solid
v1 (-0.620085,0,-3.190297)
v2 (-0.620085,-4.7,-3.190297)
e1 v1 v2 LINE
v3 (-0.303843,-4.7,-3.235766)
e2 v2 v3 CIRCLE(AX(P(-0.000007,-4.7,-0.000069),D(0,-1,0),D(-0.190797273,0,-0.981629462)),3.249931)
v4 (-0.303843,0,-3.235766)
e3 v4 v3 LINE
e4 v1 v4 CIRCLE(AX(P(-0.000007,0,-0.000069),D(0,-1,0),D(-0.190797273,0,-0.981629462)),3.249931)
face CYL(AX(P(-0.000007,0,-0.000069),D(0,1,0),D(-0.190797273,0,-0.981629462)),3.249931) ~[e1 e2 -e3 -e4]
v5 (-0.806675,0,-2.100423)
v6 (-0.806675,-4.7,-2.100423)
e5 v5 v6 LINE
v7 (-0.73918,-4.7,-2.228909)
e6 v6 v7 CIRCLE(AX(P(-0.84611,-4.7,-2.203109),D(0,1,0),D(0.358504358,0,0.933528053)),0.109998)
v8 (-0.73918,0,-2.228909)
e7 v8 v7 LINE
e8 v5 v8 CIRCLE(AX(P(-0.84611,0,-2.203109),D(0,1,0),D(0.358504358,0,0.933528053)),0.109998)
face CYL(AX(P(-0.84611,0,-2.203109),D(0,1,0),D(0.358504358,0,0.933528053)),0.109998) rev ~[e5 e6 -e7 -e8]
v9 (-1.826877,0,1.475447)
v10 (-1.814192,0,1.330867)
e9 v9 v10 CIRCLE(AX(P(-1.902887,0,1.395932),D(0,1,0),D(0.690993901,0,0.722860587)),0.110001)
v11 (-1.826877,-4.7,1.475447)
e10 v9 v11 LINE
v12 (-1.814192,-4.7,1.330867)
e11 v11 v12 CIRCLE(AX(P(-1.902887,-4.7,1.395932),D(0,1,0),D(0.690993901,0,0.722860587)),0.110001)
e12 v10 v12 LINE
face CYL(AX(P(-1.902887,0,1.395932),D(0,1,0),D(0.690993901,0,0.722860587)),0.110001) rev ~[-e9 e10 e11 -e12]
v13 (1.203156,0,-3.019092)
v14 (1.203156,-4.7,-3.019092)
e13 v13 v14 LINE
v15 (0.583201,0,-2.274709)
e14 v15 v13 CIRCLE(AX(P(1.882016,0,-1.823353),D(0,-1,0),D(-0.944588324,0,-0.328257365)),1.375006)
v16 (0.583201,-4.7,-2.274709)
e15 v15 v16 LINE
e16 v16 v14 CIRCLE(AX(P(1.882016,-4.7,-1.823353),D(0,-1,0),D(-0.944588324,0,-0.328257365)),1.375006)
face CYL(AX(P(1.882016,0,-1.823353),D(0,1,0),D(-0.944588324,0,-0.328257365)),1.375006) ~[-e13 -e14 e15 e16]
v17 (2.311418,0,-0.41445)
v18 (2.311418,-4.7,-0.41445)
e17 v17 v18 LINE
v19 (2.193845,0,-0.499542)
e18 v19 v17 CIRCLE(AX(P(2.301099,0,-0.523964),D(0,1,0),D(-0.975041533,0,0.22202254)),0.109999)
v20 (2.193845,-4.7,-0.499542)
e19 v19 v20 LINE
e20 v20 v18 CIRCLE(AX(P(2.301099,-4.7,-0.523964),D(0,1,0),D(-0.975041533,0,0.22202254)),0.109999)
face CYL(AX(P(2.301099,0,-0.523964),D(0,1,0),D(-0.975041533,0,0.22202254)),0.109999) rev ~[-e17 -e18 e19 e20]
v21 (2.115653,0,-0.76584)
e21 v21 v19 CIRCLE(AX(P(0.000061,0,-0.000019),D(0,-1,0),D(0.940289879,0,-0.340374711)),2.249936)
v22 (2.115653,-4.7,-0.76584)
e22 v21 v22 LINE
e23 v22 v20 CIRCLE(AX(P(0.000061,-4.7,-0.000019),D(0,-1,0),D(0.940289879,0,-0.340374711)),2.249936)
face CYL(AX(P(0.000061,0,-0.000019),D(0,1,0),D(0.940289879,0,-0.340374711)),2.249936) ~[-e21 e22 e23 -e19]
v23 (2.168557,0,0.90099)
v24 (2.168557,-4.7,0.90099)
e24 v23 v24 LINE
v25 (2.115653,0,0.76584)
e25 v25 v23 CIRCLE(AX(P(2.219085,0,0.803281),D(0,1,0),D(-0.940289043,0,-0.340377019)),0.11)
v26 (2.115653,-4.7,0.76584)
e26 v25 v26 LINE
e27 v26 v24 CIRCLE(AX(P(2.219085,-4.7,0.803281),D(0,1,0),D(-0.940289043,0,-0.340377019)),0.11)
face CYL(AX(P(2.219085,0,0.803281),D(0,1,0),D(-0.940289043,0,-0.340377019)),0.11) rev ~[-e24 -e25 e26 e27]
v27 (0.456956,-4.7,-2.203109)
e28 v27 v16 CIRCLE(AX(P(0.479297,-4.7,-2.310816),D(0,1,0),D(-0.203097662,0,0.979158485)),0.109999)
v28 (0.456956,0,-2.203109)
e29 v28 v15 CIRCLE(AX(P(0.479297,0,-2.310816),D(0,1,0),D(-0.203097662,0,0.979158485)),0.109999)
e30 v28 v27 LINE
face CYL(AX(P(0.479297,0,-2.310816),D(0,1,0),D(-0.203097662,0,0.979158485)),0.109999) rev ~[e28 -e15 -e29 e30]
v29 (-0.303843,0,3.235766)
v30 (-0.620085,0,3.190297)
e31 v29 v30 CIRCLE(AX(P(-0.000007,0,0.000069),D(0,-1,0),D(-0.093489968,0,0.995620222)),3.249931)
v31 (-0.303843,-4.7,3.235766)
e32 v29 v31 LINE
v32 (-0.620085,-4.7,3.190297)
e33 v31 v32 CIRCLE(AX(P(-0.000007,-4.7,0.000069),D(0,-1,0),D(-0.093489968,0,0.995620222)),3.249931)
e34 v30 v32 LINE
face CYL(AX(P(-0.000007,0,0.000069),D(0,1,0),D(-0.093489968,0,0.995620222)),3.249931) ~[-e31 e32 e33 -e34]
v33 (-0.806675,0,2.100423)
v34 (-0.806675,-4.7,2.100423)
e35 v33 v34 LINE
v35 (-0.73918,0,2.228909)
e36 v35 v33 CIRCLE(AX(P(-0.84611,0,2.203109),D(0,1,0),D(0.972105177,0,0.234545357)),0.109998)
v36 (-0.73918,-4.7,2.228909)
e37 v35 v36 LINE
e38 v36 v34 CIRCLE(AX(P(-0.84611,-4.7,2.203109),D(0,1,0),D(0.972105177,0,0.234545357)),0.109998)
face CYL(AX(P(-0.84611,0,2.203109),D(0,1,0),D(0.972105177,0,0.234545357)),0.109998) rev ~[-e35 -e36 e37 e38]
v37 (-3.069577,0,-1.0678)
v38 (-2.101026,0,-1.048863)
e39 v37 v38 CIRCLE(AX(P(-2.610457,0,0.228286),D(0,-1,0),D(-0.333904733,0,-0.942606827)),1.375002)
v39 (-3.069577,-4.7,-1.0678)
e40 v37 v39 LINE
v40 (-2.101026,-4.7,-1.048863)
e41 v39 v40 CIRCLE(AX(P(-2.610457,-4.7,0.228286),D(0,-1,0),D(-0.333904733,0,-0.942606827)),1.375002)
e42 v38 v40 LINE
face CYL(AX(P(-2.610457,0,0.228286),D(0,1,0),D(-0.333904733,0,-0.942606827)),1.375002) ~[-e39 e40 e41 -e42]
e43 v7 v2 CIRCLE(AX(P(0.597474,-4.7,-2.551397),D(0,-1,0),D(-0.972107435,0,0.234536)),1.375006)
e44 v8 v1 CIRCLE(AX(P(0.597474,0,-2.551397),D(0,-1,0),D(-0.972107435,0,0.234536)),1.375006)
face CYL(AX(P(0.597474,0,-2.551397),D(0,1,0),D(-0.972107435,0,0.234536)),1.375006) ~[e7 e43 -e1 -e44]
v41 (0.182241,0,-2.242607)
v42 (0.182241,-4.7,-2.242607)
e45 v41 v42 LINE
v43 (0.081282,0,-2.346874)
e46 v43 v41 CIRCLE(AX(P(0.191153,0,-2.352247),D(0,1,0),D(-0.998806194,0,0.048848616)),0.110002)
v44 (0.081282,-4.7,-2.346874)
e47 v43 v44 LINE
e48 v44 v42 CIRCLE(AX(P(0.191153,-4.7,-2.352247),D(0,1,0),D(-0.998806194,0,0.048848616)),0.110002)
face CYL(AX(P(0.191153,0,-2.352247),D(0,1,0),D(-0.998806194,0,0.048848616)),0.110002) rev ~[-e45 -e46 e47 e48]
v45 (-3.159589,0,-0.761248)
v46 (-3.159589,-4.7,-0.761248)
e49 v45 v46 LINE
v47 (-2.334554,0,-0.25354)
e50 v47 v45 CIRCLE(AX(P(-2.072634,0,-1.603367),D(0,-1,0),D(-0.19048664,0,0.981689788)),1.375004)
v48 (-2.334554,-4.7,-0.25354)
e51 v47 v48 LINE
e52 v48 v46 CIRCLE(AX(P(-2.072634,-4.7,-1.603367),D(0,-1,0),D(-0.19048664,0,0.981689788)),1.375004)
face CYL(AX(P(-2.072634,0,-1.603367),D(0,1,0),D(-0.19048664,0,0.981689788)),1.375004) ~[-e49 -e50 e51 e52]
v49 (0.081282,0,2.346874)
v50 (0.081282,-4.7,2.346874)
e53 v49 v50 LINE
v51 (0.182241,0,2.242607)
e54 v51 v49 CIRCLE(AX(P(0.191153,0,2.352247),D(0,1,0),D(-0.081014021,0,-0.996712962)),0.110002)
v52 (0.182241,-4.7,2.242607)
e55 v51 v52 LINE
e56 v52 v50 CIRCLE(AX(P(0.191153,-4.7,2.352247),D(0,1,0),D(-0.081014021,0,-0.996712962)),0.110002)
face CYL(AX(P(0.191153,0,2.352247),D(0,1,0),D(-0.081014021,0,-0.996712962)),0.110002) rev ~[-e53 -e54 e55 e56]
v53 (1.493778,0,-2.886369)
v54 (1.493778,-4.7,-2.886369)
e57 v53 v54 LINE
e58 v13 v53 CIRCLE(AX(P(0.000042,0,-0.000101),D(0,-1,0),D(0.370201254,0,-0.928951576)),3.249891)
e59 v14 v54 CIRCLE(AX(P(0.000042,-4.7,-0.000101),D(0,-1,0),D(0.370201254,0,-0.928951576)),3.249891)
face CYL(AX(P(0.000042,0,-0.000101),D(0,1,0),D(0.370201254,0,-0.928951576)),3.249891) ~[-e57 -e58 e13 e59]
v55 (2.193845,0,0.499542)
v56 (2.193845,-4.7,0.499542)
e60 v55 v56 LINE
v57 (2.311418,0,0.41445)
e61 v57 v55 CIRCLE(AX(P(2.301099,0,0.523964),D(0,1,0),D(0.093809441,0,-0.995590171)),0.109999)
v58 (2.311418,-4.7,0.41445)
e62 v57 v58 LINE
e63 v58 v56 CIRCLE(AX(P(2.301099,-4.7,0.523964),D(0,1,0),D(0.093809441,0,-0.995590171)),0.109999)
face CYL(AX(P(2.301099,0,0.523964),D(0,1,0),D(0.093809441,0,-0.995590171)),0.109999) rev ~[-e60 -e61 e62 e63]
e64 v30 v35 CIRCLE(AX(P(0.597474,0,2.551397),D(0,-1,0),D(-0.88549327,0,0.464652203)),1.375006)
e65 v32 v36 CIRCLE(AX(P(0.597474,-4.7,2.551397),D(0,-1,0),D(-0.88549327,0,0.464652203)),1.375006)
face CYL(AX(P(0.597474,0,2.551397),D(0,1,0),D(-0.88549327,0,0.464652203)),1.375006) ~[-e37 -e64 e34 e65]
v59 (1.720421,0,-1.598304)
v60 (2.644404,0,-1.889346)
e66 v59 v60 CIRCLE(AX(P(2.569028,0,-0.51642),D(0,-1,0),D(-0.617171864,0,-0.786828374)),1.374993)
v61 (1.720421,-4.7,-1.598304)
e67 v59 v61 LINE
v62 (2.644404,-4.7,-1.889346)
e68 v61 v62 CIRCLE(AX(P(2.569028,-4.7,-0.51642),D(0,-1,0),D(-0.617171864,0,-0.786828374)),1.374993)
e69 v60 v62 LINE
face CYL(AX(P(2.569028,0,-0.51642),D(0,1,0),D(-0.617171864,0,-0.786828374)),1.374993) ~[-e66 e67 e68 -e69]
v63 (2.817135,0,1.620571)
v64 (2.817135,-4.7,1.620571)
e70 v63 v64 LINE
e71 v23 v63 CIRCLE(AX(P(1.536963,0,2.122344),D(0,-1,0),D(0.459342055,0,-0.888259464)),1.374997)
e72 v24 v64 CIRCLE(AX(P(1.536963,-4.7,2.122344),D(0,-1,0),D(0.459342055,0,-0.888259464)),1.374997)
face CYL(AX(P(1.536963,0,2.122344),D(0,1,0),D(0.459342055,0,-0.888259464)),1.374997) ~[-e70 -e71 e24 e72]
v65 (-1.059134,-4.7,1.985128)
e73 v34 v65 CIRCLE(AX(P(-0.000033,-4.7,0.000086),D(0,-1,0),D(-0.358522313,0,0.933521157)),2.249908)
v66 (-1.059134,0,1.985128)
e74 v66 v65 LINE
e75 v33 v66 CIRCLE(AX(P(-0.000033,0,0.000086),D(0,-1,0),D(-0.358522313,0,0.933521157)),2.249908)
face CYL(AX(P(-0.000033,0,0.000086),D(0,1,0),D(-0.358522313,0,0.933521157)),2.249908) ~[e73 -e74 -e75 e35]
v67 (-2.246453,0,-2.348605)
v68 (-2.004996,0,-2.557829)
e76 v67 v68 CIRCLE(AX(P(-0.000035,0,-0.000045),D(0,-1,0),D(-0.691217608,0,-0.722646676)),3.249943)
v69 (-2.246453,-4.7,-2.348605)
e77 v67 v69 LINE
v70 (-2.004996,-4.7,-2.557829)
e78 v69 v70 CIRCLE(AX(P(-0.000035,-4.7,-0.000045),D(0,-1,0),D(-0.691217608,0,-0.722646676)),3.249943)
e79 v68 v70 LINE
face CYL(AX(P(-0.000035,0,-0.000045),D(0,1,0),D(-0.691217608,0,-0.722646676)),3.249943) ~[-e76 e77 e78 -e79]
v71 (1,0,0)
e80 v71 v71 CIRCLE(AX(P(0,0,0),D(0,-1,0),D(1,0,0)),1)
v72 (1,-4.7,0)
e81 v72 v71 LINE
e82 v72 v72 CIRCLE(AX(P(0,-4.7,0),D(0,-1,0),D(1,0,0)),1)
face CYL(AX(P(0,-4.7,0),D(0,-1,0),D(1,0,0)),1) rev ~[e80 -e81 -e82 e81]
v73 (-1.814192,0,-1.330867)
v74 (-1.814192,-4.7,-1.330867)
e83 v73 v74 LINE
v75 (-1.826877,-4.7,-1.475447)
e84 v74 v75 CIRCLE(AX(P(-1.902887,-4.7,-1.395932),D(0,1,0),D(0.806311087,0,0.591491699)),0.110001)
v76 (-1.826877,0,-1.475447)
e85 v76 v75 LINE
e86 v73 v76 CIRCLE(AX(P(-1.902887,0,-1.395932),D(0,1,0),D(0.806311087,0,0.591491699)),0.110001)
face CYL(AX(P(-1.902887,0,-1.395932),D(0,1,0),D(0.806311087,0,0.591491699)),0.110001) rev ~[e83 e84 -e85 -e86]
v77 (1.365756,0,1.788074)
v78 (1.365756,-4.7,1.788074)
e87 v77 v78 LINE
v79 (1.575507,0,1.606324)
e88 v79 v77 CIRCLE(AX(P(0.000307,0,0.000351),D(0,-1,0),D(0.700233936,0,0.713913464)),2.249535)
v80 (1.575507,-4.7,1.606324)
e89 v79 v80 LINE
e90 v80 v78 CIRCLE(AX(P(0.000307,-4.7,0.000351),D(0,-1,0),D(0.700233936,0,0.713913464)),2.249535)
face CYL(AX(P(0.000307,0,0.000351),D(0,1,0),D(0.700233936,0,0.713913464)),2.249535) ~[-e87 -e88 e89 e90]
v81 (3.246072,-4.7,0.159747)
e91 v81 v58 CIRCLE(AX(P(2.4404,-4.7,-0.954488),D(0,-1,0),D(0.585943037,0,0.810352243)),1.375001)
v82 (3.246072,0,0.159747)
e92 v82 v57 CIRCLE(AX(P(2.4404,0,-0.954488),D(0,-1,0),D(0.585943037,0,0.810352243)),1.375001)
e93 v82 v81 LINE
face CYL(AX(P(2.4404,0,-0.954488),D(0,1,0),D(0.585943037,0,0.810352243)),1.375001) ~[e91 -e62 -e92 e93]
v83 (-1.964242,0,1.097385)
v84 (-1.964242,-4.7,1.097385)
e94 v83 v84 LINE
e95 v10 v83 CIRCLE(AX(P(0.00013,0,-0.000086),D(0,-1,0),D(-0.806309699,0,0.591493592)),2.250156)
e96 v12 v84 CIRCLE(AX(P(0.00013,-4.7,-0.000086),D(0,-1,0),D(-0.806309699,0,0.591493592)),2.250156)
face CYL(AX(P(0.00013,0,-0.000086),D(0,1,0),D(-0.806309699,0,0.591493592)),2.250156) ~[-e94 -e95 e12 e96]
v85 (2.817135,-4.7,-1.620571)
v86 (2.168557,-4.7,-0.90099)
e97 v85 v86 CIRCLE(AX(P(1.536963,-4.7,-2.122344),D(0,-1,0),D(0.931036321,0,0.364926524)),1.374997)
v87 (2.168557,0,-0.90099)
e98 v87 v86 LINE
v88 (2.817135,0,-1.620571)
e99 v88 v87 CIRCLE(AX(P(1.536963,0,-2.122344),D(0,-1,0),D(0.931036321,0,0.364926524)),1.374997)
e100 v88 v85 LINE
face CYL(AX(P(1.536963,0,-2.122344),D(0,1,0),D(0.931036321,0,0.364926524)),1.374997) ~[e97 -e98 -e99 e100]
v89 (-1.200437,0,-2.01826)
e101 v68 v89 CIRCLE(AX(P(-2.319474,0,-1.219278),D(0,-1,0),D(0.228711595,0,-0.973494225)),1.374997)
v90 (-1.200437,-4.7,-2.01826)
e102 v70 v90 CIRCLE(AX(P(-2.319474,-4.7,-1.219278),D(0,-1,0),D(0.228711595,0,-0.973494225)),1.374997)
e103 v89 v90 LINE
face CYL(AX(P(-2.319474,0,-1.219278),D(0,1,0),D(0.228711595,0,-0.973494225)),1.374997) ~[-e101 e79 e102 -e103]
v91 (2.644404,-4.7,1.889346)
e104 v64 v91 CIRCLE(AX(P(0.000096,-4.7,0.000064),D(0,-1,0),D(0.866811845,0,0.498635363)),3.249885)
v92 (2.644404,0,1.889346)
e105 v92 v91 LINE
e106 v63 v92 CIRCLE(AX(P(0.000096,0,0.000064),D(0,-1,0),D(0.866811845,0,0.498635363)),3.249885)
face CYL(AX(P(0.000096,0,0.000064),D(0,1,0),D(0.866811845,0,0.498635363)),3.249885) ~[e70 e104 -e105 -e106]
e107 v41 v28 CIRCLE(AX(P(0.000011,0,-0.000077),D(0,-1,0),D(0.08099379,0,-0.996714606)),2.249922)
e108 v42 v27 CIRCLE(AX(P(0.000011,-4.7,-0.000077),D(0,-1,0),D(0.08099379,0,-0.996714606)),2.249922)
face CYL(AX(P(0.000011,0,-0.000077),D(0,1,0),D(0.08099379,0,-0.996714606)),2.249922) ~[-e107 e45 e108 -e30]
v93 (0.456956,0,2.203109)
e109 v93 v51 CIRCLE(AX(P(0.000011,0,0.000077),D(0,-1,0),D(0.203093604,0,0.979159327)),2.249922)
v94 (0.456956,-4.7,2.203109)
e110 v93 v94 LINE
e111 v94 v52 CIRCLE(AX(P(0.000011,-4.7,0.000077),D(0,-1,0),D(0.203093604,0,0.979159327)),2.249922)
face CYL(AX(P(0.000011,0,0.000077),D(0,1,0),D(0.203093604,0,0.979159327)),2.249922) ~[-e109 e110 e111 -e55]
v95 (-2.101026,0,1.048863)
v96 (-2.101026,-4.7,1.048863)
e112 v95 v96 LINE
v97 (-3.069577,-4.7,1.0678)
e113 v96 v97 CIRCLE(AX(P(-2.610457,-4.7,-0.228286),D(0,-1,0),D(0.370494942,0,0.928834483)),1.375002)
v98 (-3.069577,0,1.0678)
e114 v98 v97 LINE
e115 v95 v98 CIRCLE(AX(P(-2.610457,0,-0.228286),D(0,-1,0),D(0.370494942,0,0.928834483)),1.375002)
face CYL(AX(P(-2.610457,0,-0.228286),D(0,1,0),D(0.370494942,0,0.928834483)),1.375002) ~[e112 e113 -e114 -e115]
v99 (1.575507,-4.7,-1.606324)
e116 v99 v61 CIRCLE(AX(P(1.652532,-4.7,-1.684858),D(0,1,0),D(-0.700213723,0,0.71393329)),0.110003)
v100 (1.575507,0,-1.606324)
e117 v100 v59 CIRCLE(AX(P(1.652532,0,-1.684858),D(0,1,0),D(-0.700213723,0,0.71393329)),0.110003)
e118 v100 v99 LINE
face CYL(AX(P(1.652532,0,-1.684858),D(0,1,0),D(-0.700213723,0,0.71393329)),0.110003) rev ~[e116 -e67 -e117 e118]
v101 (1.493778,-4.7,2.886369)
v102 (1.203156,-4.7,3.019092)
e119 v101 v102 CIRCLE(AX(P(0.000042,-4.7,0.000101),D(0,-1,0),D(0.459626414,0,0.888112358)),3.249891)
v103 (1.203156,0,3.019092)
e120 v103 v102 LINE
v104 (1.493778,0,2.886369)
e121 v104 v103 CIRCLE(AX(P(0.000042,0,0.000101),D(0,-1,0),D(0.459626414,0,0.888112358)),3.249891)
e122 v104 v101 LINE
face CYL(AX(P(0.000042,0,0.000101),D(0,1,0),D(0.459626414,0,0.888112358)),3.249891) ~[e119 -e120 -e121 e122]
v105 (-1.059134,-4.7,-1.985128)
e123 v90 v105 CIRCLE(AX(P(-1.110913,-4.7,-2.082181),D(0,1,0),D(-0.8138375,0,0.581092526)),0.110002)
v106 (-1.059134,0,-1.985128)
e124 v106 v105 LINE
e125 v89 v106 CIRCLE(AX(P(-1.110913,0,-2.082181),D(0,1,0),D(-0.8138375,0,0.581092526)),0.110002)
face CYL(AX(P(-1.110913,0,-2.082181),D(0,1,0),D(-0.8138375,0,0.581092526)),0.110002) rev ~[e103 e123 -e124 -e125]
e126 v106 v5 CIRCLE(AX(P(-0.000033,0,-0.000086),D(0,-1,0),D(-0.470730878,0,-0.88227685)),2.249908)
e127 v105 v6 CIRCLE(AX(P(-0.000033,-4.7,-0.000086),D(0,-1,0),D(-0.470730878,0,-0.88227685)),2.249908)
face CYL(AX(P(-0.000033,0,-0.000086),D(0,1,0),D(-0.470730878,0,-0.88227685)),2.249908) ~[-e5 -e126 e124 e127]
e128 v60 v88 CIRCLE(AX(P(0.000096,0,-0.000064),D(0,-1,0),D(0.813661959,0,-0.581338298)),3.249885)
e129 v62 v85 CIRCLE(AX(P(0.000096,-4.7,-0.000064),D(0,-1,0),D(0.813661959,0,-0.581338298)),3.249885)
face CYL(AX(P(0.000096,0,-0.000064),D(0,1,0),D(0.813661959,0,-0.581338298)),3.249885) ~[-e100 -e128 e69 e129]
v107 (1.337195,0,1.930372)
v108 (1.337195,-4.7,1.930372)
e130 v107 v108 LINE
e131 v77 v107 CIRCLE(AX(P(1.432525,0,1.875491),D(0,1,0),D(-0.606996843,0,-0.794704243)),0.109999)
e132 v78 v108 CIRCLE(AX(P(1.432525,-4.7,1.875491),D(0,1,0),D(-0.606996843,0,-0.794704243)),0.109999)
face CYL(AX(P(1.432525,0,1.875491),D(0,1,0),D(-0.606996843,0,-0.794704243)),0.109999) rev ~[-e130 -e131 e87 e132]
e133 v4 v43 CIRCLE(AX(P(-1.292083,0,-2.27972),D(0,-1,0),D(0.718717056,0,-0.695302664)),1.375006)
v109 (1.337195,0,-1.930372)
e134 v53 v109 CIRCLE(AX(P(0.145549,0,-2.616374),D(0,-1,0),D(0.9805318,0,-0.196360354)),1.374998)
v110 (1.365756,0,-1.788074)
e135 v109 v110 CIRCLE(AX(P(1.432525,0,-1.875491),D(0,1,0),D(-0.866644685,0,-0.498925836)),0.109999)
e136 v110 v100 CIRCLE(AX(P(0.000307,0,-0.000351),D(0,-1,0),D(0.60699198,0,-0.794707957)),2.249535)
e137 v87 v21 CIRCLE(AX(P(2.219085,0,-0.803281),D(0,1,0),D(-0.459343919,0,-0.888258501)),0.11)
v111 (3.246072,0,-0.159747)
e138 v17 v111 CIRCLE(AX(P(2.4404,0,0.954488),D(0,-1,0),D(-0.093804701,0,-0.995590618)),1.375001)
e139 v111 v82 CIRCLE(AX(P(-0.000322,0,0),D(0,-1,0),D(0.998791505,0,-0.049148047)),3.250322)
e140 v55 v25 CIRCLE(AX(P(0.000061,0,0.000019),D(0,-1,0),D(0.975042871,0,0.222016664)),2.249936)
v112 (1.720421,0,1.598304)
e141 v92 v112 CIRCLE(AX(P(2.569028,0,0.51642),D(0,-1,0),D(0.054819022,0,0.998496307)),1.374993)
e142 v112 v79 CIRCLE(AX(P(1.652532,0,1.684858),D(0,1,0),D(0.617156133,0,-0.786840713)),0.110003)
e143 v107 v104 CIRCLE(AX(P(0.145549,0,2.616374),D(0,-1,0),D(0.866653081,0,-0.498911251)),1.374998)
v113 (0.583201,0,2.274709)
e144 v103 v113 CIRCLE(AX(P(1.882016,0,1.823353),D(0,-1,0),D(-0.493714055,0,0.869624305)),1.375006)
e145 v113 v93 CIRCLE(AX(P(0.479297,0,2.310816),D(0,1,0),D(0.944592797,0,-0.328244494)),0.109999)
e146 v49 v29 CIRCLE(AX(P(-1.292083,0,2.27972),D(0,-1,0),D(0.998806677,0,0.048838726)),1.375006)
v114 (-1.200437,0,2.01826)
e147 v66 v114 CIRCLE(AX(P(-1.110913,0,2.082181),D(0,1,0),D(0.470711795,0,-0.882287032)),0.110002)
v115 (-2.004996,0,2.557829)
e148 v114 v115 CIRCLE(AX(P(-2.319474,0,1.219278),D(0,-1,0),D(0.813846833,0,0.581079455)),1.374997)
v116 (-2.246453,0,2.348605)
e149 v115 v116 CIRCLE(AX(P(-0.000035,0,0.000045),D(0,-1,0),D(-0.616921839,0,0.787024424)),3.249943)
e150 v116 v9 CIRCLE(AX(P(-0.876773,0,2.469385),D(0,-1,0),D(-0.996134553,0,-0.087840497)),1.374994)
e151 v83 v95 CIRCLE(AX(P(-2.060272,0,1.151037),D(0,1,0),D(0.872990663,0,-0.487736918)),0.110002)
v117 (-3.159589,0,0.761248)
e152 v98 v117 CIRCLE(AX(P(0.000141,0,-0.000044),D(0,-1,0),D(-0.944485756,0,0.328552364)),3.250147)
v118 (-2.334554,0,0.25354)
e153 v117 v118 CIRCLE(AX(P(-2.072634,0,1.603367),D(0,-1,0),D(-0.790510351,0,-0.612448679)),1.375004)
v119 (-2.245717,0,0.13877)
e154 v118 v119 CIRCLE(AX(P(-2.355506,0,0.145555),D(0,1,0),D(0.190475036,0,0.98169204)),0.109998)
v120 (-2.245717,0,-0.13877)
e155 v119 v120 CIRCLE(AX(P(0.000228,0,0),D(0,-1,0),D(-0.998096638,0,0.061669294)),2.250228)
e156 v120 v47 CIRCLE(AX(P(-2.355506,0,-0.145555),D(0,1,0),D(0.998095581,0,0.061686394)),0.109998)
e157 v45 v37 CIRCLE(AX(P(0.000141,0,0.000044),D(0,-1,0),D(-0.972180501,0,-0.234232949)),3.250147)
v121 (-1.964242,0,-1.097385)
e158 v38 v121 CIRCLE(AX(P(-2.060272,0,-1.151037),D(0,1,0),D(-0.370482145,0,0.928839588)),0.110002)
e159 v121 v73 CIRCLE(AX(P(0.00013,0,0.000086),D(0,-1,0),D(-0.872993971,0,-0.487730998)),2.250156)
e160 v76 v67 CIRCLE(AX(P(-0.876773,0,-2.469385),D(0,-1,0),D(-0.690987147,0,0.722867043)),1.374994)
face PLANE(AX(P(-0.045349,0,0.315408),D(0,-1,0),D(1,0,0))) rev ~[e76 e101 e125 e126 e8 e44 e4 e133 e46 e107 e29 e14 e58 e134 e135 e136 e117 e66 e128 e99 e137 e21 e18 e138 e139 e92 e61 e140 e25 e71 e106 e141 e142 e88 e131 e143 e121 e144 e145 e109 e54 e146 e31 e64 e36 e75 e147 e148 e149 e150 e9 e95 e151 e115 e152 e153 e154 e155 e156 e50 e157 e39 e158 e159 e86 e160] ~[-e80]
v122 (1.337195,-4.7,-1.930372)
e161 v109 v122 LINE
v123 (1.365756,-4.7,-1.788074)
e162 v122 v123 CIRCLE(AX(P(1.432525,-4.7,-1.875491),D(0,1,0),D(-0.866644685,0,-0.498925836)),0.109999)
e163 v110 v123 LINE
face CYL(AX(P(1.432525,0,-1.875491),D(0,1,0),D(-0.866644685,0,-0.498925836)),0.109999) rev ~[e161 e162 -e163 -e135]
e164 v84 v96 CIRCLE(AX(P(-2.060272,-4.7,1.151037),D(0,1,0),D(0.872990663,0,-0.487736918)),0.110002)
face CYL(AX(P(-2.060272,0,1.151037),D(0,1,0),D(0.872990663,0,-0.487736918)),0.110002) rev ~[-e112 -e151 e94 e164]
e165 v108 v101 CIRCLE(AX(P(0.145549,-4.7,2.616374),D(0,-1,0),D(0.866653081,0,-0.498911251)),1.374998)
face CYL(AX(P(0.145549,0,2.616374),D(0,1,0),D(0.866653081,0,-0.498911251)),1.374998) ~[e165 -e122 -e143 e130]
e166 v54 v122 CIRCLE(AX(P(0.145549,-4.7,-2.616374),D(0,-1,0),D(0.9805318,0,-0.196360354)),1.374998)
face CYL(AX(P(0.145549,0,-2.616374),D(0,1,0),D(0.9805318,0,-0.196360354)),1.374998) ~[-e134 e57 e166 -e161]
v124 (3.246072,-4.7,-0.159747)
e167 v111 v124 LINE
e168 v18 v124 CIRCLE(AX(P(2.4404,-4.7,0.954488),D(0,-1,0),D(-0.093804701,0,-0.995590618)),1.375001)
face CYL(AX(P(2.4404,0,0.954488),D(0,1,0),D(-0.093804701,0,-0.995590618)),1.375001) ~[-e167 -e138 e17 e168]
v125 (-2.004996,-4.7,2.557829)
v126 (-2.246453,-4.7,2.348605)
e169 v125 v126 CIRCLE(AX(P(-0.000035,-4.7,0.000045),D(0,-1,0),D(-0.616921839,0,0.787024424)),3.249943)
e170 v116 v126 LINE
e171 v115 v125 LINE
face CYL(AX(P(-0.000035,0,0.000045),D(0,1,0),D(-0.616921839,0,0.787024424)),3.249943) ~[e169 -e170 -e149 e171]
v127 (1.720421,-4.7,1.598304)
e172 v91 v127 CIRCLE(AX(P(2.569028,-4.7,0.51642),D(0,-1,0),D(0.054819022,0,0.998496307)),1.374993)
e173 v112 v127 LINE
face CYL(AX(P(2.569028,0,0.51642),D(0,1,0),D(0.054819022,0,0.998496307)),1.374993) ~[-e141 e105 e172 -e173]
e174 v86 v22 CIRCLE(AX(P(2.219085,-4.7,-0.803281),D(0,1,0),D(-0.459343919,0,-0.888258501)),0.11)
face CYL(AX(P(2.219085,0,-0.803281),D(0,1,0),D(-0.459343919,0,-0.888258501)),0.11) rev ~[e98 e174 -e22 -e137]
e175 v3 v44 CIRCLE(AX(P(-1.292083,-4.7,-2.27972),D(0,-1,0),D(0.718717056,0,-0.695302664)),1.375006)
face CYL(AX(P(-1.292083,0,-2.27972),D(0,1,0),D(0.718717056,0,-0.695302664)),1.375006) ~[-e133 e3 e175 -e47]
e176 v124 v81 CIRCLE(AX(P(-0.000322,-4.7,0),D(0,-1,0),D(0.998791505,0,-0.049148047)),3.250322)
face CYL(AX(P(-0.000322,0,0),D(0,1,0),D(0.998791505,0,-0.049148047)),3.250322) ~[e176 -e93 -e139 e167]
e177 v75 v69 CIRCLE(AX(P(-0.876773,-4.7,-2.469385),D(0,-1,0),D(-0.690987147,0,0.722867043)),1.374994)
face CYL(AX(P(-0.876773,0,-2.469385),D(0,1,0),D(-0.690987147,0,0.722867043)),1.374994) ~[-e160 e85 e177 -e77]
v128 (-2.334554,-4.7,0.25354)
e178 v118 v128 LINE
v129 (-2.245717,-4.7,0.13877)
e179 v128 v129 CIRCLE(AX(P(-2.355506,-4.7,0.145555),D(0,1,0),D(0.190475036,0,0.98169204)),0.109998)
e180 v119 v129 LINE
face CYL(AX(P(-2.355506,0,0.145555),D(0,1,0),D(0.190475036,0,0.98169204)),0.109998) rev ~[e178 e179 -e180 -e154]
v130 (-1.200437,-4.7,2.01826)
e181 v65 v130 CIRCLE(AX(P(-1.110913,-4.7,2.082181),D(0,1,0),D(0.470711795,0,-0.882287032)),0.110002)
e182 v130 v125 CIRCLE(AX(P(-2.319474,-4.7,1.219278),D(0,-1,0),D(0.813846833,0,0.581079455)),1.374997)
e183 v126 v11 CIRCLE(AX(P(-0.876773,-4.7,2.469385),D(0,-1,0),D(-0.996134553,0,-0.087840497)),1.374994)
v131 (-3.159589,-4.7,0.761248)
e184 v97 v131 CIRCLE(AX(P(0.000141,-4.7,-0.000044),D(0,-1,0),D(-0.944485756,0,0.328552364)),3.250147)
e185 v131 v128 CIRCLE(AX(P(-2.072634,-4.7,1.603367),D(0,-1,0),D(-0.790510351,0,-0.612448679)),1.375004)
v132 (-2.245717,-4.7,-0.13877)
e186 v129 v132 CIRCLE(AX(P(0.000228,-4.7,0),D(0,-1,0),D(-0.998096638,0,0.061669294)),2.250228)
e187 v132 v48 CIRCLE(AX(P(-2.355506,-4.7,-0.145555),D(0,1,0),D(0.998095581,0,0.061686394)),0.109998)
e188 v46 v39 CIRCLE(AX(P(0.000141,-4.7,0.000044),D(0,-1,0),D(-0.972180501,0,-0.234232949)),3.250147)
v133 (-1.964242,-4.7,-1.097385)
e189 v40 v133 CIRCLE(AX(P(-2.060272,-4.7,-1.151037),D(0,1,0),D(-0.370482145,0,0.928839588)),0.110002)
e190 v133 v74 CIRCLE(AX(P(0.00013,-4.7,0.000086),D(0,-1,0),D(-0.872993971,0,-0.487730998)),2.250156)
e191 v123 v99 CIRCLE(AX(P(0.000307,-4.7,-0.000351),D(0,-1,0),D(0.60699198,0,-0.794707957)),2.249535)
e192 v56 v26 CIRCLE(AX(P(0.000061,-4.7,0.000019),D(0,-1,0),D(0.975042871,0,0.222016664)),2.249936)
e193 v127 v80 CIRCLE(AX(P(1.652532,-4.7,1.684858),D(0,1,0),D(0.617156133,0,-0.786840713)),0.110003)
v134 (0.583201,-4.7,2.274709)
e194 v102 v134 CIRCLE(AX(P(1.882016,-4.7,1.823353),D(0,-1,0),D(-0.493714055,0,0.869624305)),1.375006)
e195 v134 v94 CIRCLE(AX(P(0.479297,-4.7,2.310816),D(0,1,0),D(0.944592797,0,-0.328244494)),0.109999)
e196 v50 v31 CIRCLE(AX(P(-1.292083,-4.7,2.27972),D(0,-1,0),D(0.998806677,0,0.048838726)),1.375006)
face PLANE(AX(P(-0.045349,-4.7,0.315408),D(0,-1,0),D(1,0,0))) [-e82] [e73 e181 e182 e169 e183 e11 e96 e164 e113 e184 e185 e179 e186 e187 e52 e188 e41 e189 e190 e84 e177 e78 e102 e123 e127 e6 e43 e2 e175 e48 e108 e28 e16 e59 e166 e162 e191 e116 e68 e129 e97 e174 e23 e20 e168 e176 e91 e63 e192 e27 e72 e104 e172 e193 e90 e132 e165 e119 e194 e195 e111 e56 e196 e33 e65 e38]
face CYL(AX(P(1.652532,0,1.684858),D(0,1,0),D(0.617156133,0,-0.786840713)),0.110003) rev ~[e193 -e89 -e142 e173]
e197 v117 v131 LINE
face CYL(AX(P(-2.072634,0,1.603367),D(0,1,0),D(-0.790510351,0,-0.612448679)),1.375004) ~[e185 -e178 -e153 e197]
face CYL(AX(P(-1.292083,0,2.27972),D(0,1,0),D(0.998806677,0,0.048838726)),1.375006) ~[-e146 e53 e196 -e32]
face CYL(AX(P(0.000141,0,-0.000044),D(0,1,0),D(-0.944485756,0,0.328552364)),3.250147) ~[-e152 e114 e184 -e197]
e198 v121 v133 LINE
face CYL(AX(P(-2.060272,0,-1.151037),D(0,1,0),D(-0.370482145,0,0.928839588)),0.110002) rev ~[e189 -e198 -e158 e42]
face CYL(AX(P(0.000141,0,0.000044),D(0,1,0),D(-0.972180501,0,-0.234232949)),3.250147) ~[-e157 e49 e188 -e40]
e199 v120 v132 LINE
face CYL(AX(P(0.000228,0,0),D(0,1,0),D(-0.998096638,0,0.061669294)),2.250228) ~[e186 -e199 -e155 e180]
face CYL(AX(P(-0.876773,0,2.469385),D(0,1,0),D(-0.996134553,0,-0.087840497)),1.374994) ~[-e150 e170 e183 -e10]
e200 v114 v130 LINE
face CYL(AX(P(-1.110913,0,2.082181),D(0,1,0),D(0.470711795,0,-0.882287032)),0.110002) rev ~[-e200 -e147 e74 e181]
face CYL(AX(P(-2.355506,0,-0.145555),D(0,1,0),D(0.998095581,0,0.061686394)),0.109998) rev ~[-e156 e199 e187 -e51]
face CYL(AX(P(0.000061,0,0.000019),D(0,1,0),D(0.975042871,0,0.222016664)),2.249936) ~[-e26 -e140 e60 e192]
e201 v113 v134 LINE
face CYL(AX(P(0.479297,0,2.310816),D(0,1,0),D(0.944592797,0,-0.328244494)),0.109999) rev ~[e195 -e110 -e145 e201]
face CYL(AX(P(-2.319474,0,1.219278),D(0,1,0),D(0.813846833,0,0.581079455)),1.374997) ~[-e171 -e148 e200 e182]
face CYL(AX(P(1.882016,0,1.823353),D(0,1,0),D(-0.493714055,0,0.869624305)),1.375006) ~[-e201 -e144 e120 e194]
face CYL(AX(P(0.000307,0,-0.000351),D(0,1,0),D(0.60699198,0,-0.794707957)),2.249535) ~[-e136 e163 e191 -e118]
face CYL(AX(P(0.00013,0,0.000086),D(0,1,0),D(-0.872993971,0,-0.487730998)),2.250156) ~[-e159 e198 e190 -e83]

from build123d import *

# Parameters (mm, degrees)
F1_DEPTH = 4.7
F2_R     = 1
F3_DEPTH = 4.701


with BuildPart() as f1:
    # F0 (on Front) → F1 (new body)
    with BuildSketch(Plane.XZ):
        with BuildLine():
            ThreePointArc((0.081282, 2.346874), (-0.030407, 2.82636), (-0.303843, 3.235766))
            ThreePointArc((-0.303843, 3.235766), (-0.462523, 3.21692), (-0.620085, 3.190297))
            ThreePointArc((-0.620085, 3.190297), (-0.767102, 2.720439), (-0.73918, 2.228909))
            ThreePointArc((-0.73918, 2.228909), (-0.74873, 2.151955), (-0.806675, 2.100423))
            ThreePointArc((-0.806675, 2.100423), (-0.934684, 2.046672), (-1.059134, 1.985128))
            ThreePointArc((-1.059134, 1.985128), (-1.10292, 1.96114), (-1.146162, 1.936185))
            ThreePointArc((-1.146162, 1.936185), (-1.473437, 1.700437), (-1.753362, 1.410044))
            ThreePointArc((-1.753362, 1.410044), (-1.784216, 1.370793), (-1.814192, 1.330867))
            ThreePointArc((-1.814192, 1.330867), (-1.89282, 1.216442), (-1.964242, 1.097385))
            ThreePointArc((-1.964242, 1.097385), (-1.988107, 1.053532), (-2.010994, 1.00916))
            ThreePointArc((-2.010994, 1.00916), (-2.158859, 0.633898), (-2.237349, 0.238265))
            ThreePointArc((-2.237349, 0.238265), (-2.242085, 0.188564), (-2.245717, 0.13877))
            ThreePointArc((-2.245717, 0.13877), (-2.25, 0), (-2.245717, -0.13877))
            ThreePointArc((-2.245717, -0.13877), (-2.242085, -0.188564), (-2.237349, -0.238265))
            ThreePointArc((-2.237349, -0.238265), (-2.158859, -0.633898), (-2.010994, -1.00916))
            ThreePointArc((-2.010994, -1.00916), (-1.988107, -1.053532), (-1.964242, -1.097385))
            ThreePointArc((-1.964242, -1.097385), (-1.89282, -1.216442), (-1.814192, -1.330867))
            ThreePointArc((-1.814192, -1.330867), (-1.784216, -1.370793), (-1.753362, -1.410044))
            ThreePointArc((-1.753362, -1.410044), (-1.473437, -1.700437), (-1.146162, -1.936185))
            ThreePointArc((-1.146162, -1.936185), (-1.10292, -1.96114), (-1.059134, -1.985128))
            ThreePointArc((-1.059134, -1.985128), (-0.934684, -2.046672), (-0.806675, -2.100423))
            ThreePointArc((-0.806675, -2.100423), (-0.759872, -2.117804), (-0.712694, -2.134143))
            ThreePointArc((-0.712694, -2.134143), (-0.320208, -2.227098), (0.082568, -2.248485))
            ThreePointArc((0.082568, -2.248485), (0.132437, -2.246099), (0.182241, -2.242607))
            ThreePointArc((0.182241, -2.242607), (0.320208, -2.227098), (0.456956, -2.203109))
            ThreePointArc((0.456956, -2.203109), (0.505727, -2.192428), (0.554248, -2.180667))
            ThreePointArc((0.554248, -2.180667), (0.934684, -2.046672), (1.285083, -1.846906))
            ThreePointArc((1.285083, -1.846906), (1.325746, -1.817938), (1.365756, -1.788074))
            ThreePointArc((1.365756, -1.788074), (1.473437, -1.700437), (1.575507, -1.606324))
            ThreePointArc((1.575507, -1.606324), (1.610761, -1.570971), (1.645221, -1.534845))
            ThreePointArc((1.645221, -1.534845), (1.89282, -1.216442), (2.079593, -0.858948))
            ThreePointArc((2.079593, -0.858948), (2.09814, -0.812594), (2.115653, -0.76584))
            ThreePointArc((2.115653, -0.76584), (2.158859, -0.633898), (2.193845, -0.499542))
            ThreePointArc((2.193845, -0.499542), (2.204389, -0.450742), (2.213848, -0.40172))
            ThreePointArc((2.213848, -0.40172), (2.25, 0), (2.213848, 0.40172))
            ThreePointArc((2.213848, 0.40172), (2.204389, 0.450742), (2.193845, 0.499542))
            ThreePointArc((2.193845, 0.499542), (2.158859, 0.633898), (2.115653, 0.76584))
            ThreePointArc((2.115653, 0.76584), (2.09814, 0.812594), (2.079593, 0.858948))
            ThreePointArc((2.079593, 0.858948), (1.89282, 1.216442), (1.645221, 1.534845))
            ThreePointArc((1.645221, 1.534845), (1.610761, 1.570971), (1.575507, 1.606324))
            ThreePointArc((1.575507, 1.606324), (1.473437, 1.700437), (1.365756, 1.788074))
            ThreePointArc((1.365756, 1.788074), (1.325746, 1.817938), (1.285083, 1.846906))
            ThreePointArc((1.285083, 1.846906), (0.934684, 2.046672), (0.554248, 2.180667))
            ThreePointArc((0.554248, 2.180667), (0.505727, 2.192428), (0.456956, 2.203109))
            ThreePointArc((0.456956, 2.203109), (0.320208, 2.227098), (0.182241, 2.242607))
            ThreePointArc((0.182241, 2.242607), (0.112126, 2.275728), (0.081282, 2.346874))
        make_face()
        with BuildLine():
            ThreePointArc((0.583201, 2.274709), (0.533563, 2.215134), (0.456956, 2.203109))
            ThreePointArc((0.456956, 2.203109), (0.505727, 2.192428), (0.554248, 2.180667))
            ThreePointArc((0.554248, 2.180667), (0.567883, 2.227947), (0.583201, 2.274709))
        make_face()
        with BuildLine():
            ThreePointArc((0.583201, 2.274709), (0.567883, 2.227947), (0.554248, 2.180667))
            ThreePointArc((0.554248, 2.180667), (0.934684, 2.046672), (1.285083, 1.846906))
            ThreePointArc((1.285083, 1.846906), (1.311886, 1.888173), (1.337195, 1.930372))
            ThreePointArc((1.337195, 1.930372), (1.502466, 2.394124), (1.493778, 2.886369))
            ThreePointArc((1.493778, 2.886369), (1.350099, 2.956304), (1.203156, 3.019092))
            ThreePointArc((1.203156, 3.019092), (0.825453, 2.703306), (0.583201, 2.274709))
        make_face()
        with BuildLine():
            ThreePointArc((-1.146162, 1.936185), (-1.10292, 1.96114), (-1.059134, 1.985128))
            ThreePointArc((-1.059134, 1.985128), (-1.136025, 1.975084), (-1.200437, 2.01826))
            ThreePointArc((-1.200437, 2.01826), (-1.172565, 1.977708), (-1.146162, 1.936185))
        make_face()
        with BuildLine():
            ThreePointArc((1.337195, 1.930372), (1.311886, 1.888173), (1.285083, 1.846906))
            ThreePointArc((1.285083, 1.846906), (1.325746, 1.817938), (1.365756, 1.788074))
            ThreePointArc((1.365756, 1.788074), (1.324677, 1.853844), (1.337195, 1.930372))
        make_face()
        with BuildLine():
            ThreePointArc((-1.753362, 1.410044), (-1.473437, 1.700437), (-1.146162, 1.936185))
            ThreePointArc((-1.146162, 1.936185), (-1.172565, 1.977708), (-1.200437, 2.01826))
            ThreePointArc((-1.200437, 2.01826), (-1.553625, 2.361246), (-2.004996, 2.557829))
            ThreePointArc((-2.004996, 2.557829), (-2.128297, 2.456186), (-2.246453, 2.348605))
            ThreePointArc((-2.246453, 2.348605), (-2.116108, 1.873852), (-1.826877, 1.475447))
            ThreePointArc((-1.826877, 1.475447), (-1.790705, 1.442087), (-1.753362, 1.410044))
        make_face()
        with BuildLine():
            ThreePointArc((-1.814192, 1.330867), (-1.784216, 1.370793), (-1.753362, 1.410044))
            ThreePointArc((-1.753362, 1.410044), (-1.790705, 1.442087), (-1.826877, 1.475447))
            ThreePointArc((-1.826877, 1.475447), (-1.793307, 1.405546), (-1.814192, 1.330867))
        make_face()
        with BuildLine():
            ThreePointArc((1.720421, 1.598304), (1.646454, 1.575024), (1.575507, 1.606324))
            ThreePointArc((1.575507, 1.606324), (1.610761, 1.570971), (1.645221, 1.534845))
            ThreePointArc((1.645221, 1.534845), (1.682253, 1.567247), (1.720421, 1.598304))
        make_face()
        with BuildLine():
            ThreePointArc((1.720421, 1.598304), (1.682253, 1.567247), (1.645221, 1.534845))
            ThreePointArc((1.645221, 1.534845), (1.89282, 1.216442), (2.079593, 0.858948))
            ThreePointArc((2.079593, 0.858948), (2.124452, 0.879173), (2.168557, 0.90099))
            ThreePointArc((2.168557, 0.90099), (2.558316, 1.201771), (2.817135, 1.620571))
            ThreePointArc((2.817135, 1.620571), (2.734074, 1.757083), (2.644404, 1.889346))
            ThreePointArc((2.644404, 1.889346), (2.155932, 1.827892), (1.720421, 1.598304))
        make_face()
        with BuildLine():
            ThreePointArc((-2.010994, 1.00916), (-1.988107, 1.053532), (-1.964242, 1.097385))
            ThreePointArc((-1.964242, 1.097385), (-2.023496, 1.047365), (-2.101026, 1.048863))
            ThreePointArc((-2.101026, 1.048863), (-2.055654, 1.029818), (-2.010994, 1.00916))
        make_face()
        with BuildLine():
            ThreePointArc((2.168557, 0.90099), (2.124452, 0.879173), (2.079593, 0.858948))
            ThreePointArc((2.079593, 0.858948), (2.09814, 0.812594), (2.115653, 0.76584))
            ThreePointArc((2.115653, 0.76584), (2.116653, 0.843378), (2.168557, 0.90099))
        make_face()
        with BuildLine():
            ThreePointArc((-2.237349, 0.238265), (-2.158859, 0.633898), (-2.010994, 1.00916))
            ThreePointArc((-2.010994, 1.00916), (-2.055654, 1.029818), (-2.101026, 1.048863))
            ThreePointArc((-2.101026, 1.048863), (-2.583579, 1.146453), (-3.069577, 1.0678))
            ThreePointArc((-3.069577, 1.0678), (-3.118352, 0.915631), (-3.159589, 0.761248))
            ThreePointArc((-3.159589, 0.761248), (-2.793264, 0.43233), (-2.334554, 0.25354))
            ThreePointArc((-2.334554, 0.25354), (-2.286088, 0.245033), (-2.237349, 0.238265))
        make_face()
        with BuildLine():
            ThreePointArc((-2.245717, 0.13877), (-2.242085, 0.188564), (-2.237349, 0.238265))
            ThreePointArc((-2.237349, 0.238265), (-2.286088, 0.245033), (-2.334554, 0.25354))
            ThreePointArc((-2.334554, 0.25354), (-2.268521, 0.212885), (-2.245717, 0.13877))
        make_face()
        with BuildLine():
            ThreePointArc((2.311418, 0.41445), (2.236607, 0.434854), (2.193845, 0.499542))
            ThreePointArc((2.193845, 0.499542), (2.204389, 0.450742), (2.213848, 0.40172))
            ThreePointArc((2.213848, 0.40172), (2.262519, 0.408958), (2.311418, 0.41445))
        make_face()
        with BuildLine():
            ThreePointArc((2.311418, 0.41445), (2.262519, 0.408958), (2.213848, 0.40172))
            ThreePointArc((2.213848, 0.40172), (2.25, 0), (2.213848, -0.40172))
            ThreePointArc((2.213848, -0.40172), (2.262519, -0.408958), (2.311418, -0.41445))
            ThreePointArc((2.311418, -0.41445), (2.801919, -0.372136), (3.246072, -0.159747))
            ThreePointArc((3.246072, -0.159747), (3.25, 0), (3.246072, 0.159747))
            ThreePointArc((3.246072, 0.159747), (2.801919, 0.372136), (2.311418, 0.41445))
        make_face()
        with BuildLine():
            ThreePointArc((-2.237349, -0.238265), (-2.242085, -0.188564), (-2.245717, -0.13877))
            ThreePointArc((-2.245717, -0.13877), (-2.268521, -0.212885), (-2.334554, -0.25354))
            ThreePointArc((-2.334554, -0.25354), (-2.286088, -0.245033), (-2.237349, -0.238265))
        make_face()
        with BuildLine():
            ThreePointArc((2.311418, -0.41445), (2.262519, -0.408958), (2.213848, -0.40172))
            ThreePointArc((2.213848, -0.40172), (2.204389, -0.450742), (2.193845, -0.499542))
            ThreePointArc((2.193845, -0.499542), (2.236607, -0.434854), (2.311418, -0.41445))
        make_face()
        with BuildLine():
            ThreePointArc((-2.010994, -1.00916), (-2.158859, -0.633898), (-2.237349, -0.238265))
            ThreePointArc((-2.237349, -0.238265), (-2.286088, -0.245033), (-2.334554, -0.25354))
            ThreePointArc((-2.334554, -0.25354), (-2.793264, -0.43233), (-3.159589, -0.761248))
            ThreePointArc((-3.159589, -0.761248), (-3.118352, -0.915631), (-3.069577, -1.0678))
            ThreePointArc((-3.069577, -1.0678), (-2.583579, -1.146453), (-2.101026, -1.048863))
            ThreePointArc((-2.101026, -1.048863), (-2.055654, -1.029818), (-2.010994, -1.00916))
        make_face()
        with BuildLine():
            ThreePointArc((-1.964242, -1.097385), (-1.988107, -1.053532), (-2.010994, -1.00916))
            ThreePointArc((-2.010994, -1.00916), (-2.055654, -1.029818), (-2.101026, -1.048863))
            ThreePointArc((-2.101026, -1.048863), (-2.023496, -1.047365), (-1.964242, -1.097385))
        make_face()
        with BuildLine():
            ThreePointArc((2.168557, -0.90099), (2.116653, -0.843378), (2.115653, -0.76584))
            ThreePointArc((2.115653, -0.76584), (2.09814, -0.812594), (2.079593, -0.858948))
            ThreePointArc((2.079593, -0.858948), (2.124452, -0.879173), (2.168557, -0.90099))
        make_face()
        with BuildLine():
            ThreePointArc((2.168557, -0.90099), (2.124452, -0.879173), (2.079593, -0.858948))
            ThreePointArc((2.079593, -0.858948), (1.89282, -1.216442), (1.645221, -1.534845))
            ThreePointArc((1.645221, -1.534845), (1.682253, -1.567247), (1.720421, -1.598304))
            ThreePointArc((1.720421, -1.598304), (2.155932, -1.827892), (2.644404, -1.889346))
            ThreePointArc((2.644404, -1.889346), (2.734074, -1.757083), (2.817135, -1.620571))
            ThreePointArc((2.817135, -1.620571), (2.558316, -1.201771), (2.168557, -0.90099))
        make_face()
        with BuildLine():
            ThreePointArc((-1.753362, -1.410044), (-1.784216, -1.370793), (-1.814192, -1.330867))
            ThreePointArc((-1.814192, -1.330867), (-1.793307, -1.405546), (-1.826877, -1.475447))
            ThreePointArc((-1.826877, -1.475447), (-1.790705, -1.442087), (-1.753362, -1.410044))
        make_face()
        with BuildLine():
            ThreePointArc((1.720421, -1.598304), (1.682253, -1.567247), (1.645221, -1.534845))
            ThreePointArc((1.645221, -1.534845), (1.610761, -1.570971), (1.575507, -1.606324))
            ThreePointArc((1.575507, -1.606324), (1.646454, -1.575024), (1.720421, -1.598304))
        make_face()
        with BuildLine():
            ThreePointArc((-1.146162, -1.936185), (-1.473437, -1.700437), (-1.753362, -1.410044))
            ThreePointArc((-1.753362, -1.410044), (-1.790705, -1.442087), (-1.826877, -1.475447))
            ThreePointArc((-1.826877, -1.475447), (-2.116108, -1.873852), (-2.246453, -2.348605))
            ThreePointArc((-2.246453, -2.348605), (-2.128297, -2.456186), (-2.004996, -2.557829))
            ThreePointArc((-2.004996, -2.557829), (-1.553625, -2.361246), (-1.200437, -2.01826))
            ThreePointArc((-1.200437, -2.01826), (-1.172565, -1.977708), (-1.146162, -1.936185))
        make_face()
        with BuildLine():
            ThreePointArc((-1.059134, -1.985128), (-1.10292, -1.96114), (-1.146162, -1.936185))
            ThreePointArc((-1.146162, -1.936185), (-1.172565, -1.977708), (-1.200437, -2.01826))
            ThreePointArc((-1.200437, -2.01826), (-1.136025, -1.975084), (-1.059134, -1.985128))
        make_face()
        with BuildLine():
            ThreePointArc((1.337195, -1.930372), (1.324677, -1.853844), (1.365756, -1.788074))
            ThreePointArc((1.365756, -1.788074), (1.325746, -1.817938), (1.285083, -1.846906))
            ThreePointArc((1.285083, -1.846906), (1.311886, -1.888173), (1.337195, -1.930372))
        make_face()
        with BuildLine():
            ThreePointArc((1.337195, -1.930372), (1.311886, -1.888173), (1.285083, -1.846906))
            ThreePointArc((1.285083, -1.846906), (0.934684, -2.046672), (0.554248, -2.180667))
            ThreePointArc((0.554248, -2.180667), (0.567883, -2.227947), (0.583201, -2.274709))
            ThreePointArc((0.583201, -2.274709), (0.825453, -2.703306), (1.203156, -3.019092))
            ThreePointArc((1.203156, -3.019092), (1.350099, -2.956304), (1.493778, -2.886369))
            ThreePointArc((1.493778, -2.886369), (1.502466, -2.394124), (1.337195, -1.930372))
        make_face()
        with BuildLine():
            ThreePointArc((-0.712694, -2.134143), (-0.759872, -2.117804), (-0.806675, -2.100423))
            ThreePointArc((-0.806675, -2.100423), (-0.74873, -2.151955), (-0.73918, -2.228909))
            ThreePointArc((-0.73918, -2.228909), (-0.726785, -2.181289), (-0.712694, -2.134143))
        make_face()
        with BuildLine():
            ThreePointArc((0.583201, -2.274709), (0.567883, -2.227947), (0.554248, -2.180667))
            ThreePointArc((0.554248, -2.180667), (0.505727, -2.192428), (0.456956, -2.203109))
            ThreePointArc((0.456956, -2.203109), (0.533563, -2.215134), (0.583201, -2.274709))
        make_face()
        with BuildLine():
            ThreePointArc((0.082568, -2.248485), (-0.320208, -2.227098), (-0.712694, -2.134143))
            ThreePointArc((-0.712694, -2.134143), (-0.726785, -2.181289), (-0.73918, -2.228909))
            ThreePointArc((-0.73918, -2.228909), (-0.767102, -2.720439), (-0.620085, -3.190297))
            ThreePointArc((-0.620085, -3.190297), (-0.462523, -3.21692), (-0.303843, -3.235766))
            ThreePointArc((-0.303843, -3.235766), (-0.030407, -2.82636), (0.081282, -2.346874))
            ThreePointArc((0.081282, -2.346874), (0.082805, -2.297691), (0.082568, -2.248485))
        make_face()
        with BuildLine():
            ThreePointArc((0.182241, -2.242607), (0.132437, -2.246099), (0.082568, -2.248485))
            ThreePointArc((0.082568, -2.248485), (0.082805, -2.297691), (0.081282, -2.346874))
            ThreePointArc((0.081282, -2.346874), (0.112126, -2.275728), (0.182241, -2.242607))
        make_face()
    extrude(amount=F1_DEPTH)

    # F2 (on face) → F3 (cut, through all)
    with BuildSketch(Plane.XZ.offset(4.7)):
        Circle(F2_R)
    extrude(amount=-F3_DEPTH, mode=Mode.SUBTRACT)


solid = f1.part
